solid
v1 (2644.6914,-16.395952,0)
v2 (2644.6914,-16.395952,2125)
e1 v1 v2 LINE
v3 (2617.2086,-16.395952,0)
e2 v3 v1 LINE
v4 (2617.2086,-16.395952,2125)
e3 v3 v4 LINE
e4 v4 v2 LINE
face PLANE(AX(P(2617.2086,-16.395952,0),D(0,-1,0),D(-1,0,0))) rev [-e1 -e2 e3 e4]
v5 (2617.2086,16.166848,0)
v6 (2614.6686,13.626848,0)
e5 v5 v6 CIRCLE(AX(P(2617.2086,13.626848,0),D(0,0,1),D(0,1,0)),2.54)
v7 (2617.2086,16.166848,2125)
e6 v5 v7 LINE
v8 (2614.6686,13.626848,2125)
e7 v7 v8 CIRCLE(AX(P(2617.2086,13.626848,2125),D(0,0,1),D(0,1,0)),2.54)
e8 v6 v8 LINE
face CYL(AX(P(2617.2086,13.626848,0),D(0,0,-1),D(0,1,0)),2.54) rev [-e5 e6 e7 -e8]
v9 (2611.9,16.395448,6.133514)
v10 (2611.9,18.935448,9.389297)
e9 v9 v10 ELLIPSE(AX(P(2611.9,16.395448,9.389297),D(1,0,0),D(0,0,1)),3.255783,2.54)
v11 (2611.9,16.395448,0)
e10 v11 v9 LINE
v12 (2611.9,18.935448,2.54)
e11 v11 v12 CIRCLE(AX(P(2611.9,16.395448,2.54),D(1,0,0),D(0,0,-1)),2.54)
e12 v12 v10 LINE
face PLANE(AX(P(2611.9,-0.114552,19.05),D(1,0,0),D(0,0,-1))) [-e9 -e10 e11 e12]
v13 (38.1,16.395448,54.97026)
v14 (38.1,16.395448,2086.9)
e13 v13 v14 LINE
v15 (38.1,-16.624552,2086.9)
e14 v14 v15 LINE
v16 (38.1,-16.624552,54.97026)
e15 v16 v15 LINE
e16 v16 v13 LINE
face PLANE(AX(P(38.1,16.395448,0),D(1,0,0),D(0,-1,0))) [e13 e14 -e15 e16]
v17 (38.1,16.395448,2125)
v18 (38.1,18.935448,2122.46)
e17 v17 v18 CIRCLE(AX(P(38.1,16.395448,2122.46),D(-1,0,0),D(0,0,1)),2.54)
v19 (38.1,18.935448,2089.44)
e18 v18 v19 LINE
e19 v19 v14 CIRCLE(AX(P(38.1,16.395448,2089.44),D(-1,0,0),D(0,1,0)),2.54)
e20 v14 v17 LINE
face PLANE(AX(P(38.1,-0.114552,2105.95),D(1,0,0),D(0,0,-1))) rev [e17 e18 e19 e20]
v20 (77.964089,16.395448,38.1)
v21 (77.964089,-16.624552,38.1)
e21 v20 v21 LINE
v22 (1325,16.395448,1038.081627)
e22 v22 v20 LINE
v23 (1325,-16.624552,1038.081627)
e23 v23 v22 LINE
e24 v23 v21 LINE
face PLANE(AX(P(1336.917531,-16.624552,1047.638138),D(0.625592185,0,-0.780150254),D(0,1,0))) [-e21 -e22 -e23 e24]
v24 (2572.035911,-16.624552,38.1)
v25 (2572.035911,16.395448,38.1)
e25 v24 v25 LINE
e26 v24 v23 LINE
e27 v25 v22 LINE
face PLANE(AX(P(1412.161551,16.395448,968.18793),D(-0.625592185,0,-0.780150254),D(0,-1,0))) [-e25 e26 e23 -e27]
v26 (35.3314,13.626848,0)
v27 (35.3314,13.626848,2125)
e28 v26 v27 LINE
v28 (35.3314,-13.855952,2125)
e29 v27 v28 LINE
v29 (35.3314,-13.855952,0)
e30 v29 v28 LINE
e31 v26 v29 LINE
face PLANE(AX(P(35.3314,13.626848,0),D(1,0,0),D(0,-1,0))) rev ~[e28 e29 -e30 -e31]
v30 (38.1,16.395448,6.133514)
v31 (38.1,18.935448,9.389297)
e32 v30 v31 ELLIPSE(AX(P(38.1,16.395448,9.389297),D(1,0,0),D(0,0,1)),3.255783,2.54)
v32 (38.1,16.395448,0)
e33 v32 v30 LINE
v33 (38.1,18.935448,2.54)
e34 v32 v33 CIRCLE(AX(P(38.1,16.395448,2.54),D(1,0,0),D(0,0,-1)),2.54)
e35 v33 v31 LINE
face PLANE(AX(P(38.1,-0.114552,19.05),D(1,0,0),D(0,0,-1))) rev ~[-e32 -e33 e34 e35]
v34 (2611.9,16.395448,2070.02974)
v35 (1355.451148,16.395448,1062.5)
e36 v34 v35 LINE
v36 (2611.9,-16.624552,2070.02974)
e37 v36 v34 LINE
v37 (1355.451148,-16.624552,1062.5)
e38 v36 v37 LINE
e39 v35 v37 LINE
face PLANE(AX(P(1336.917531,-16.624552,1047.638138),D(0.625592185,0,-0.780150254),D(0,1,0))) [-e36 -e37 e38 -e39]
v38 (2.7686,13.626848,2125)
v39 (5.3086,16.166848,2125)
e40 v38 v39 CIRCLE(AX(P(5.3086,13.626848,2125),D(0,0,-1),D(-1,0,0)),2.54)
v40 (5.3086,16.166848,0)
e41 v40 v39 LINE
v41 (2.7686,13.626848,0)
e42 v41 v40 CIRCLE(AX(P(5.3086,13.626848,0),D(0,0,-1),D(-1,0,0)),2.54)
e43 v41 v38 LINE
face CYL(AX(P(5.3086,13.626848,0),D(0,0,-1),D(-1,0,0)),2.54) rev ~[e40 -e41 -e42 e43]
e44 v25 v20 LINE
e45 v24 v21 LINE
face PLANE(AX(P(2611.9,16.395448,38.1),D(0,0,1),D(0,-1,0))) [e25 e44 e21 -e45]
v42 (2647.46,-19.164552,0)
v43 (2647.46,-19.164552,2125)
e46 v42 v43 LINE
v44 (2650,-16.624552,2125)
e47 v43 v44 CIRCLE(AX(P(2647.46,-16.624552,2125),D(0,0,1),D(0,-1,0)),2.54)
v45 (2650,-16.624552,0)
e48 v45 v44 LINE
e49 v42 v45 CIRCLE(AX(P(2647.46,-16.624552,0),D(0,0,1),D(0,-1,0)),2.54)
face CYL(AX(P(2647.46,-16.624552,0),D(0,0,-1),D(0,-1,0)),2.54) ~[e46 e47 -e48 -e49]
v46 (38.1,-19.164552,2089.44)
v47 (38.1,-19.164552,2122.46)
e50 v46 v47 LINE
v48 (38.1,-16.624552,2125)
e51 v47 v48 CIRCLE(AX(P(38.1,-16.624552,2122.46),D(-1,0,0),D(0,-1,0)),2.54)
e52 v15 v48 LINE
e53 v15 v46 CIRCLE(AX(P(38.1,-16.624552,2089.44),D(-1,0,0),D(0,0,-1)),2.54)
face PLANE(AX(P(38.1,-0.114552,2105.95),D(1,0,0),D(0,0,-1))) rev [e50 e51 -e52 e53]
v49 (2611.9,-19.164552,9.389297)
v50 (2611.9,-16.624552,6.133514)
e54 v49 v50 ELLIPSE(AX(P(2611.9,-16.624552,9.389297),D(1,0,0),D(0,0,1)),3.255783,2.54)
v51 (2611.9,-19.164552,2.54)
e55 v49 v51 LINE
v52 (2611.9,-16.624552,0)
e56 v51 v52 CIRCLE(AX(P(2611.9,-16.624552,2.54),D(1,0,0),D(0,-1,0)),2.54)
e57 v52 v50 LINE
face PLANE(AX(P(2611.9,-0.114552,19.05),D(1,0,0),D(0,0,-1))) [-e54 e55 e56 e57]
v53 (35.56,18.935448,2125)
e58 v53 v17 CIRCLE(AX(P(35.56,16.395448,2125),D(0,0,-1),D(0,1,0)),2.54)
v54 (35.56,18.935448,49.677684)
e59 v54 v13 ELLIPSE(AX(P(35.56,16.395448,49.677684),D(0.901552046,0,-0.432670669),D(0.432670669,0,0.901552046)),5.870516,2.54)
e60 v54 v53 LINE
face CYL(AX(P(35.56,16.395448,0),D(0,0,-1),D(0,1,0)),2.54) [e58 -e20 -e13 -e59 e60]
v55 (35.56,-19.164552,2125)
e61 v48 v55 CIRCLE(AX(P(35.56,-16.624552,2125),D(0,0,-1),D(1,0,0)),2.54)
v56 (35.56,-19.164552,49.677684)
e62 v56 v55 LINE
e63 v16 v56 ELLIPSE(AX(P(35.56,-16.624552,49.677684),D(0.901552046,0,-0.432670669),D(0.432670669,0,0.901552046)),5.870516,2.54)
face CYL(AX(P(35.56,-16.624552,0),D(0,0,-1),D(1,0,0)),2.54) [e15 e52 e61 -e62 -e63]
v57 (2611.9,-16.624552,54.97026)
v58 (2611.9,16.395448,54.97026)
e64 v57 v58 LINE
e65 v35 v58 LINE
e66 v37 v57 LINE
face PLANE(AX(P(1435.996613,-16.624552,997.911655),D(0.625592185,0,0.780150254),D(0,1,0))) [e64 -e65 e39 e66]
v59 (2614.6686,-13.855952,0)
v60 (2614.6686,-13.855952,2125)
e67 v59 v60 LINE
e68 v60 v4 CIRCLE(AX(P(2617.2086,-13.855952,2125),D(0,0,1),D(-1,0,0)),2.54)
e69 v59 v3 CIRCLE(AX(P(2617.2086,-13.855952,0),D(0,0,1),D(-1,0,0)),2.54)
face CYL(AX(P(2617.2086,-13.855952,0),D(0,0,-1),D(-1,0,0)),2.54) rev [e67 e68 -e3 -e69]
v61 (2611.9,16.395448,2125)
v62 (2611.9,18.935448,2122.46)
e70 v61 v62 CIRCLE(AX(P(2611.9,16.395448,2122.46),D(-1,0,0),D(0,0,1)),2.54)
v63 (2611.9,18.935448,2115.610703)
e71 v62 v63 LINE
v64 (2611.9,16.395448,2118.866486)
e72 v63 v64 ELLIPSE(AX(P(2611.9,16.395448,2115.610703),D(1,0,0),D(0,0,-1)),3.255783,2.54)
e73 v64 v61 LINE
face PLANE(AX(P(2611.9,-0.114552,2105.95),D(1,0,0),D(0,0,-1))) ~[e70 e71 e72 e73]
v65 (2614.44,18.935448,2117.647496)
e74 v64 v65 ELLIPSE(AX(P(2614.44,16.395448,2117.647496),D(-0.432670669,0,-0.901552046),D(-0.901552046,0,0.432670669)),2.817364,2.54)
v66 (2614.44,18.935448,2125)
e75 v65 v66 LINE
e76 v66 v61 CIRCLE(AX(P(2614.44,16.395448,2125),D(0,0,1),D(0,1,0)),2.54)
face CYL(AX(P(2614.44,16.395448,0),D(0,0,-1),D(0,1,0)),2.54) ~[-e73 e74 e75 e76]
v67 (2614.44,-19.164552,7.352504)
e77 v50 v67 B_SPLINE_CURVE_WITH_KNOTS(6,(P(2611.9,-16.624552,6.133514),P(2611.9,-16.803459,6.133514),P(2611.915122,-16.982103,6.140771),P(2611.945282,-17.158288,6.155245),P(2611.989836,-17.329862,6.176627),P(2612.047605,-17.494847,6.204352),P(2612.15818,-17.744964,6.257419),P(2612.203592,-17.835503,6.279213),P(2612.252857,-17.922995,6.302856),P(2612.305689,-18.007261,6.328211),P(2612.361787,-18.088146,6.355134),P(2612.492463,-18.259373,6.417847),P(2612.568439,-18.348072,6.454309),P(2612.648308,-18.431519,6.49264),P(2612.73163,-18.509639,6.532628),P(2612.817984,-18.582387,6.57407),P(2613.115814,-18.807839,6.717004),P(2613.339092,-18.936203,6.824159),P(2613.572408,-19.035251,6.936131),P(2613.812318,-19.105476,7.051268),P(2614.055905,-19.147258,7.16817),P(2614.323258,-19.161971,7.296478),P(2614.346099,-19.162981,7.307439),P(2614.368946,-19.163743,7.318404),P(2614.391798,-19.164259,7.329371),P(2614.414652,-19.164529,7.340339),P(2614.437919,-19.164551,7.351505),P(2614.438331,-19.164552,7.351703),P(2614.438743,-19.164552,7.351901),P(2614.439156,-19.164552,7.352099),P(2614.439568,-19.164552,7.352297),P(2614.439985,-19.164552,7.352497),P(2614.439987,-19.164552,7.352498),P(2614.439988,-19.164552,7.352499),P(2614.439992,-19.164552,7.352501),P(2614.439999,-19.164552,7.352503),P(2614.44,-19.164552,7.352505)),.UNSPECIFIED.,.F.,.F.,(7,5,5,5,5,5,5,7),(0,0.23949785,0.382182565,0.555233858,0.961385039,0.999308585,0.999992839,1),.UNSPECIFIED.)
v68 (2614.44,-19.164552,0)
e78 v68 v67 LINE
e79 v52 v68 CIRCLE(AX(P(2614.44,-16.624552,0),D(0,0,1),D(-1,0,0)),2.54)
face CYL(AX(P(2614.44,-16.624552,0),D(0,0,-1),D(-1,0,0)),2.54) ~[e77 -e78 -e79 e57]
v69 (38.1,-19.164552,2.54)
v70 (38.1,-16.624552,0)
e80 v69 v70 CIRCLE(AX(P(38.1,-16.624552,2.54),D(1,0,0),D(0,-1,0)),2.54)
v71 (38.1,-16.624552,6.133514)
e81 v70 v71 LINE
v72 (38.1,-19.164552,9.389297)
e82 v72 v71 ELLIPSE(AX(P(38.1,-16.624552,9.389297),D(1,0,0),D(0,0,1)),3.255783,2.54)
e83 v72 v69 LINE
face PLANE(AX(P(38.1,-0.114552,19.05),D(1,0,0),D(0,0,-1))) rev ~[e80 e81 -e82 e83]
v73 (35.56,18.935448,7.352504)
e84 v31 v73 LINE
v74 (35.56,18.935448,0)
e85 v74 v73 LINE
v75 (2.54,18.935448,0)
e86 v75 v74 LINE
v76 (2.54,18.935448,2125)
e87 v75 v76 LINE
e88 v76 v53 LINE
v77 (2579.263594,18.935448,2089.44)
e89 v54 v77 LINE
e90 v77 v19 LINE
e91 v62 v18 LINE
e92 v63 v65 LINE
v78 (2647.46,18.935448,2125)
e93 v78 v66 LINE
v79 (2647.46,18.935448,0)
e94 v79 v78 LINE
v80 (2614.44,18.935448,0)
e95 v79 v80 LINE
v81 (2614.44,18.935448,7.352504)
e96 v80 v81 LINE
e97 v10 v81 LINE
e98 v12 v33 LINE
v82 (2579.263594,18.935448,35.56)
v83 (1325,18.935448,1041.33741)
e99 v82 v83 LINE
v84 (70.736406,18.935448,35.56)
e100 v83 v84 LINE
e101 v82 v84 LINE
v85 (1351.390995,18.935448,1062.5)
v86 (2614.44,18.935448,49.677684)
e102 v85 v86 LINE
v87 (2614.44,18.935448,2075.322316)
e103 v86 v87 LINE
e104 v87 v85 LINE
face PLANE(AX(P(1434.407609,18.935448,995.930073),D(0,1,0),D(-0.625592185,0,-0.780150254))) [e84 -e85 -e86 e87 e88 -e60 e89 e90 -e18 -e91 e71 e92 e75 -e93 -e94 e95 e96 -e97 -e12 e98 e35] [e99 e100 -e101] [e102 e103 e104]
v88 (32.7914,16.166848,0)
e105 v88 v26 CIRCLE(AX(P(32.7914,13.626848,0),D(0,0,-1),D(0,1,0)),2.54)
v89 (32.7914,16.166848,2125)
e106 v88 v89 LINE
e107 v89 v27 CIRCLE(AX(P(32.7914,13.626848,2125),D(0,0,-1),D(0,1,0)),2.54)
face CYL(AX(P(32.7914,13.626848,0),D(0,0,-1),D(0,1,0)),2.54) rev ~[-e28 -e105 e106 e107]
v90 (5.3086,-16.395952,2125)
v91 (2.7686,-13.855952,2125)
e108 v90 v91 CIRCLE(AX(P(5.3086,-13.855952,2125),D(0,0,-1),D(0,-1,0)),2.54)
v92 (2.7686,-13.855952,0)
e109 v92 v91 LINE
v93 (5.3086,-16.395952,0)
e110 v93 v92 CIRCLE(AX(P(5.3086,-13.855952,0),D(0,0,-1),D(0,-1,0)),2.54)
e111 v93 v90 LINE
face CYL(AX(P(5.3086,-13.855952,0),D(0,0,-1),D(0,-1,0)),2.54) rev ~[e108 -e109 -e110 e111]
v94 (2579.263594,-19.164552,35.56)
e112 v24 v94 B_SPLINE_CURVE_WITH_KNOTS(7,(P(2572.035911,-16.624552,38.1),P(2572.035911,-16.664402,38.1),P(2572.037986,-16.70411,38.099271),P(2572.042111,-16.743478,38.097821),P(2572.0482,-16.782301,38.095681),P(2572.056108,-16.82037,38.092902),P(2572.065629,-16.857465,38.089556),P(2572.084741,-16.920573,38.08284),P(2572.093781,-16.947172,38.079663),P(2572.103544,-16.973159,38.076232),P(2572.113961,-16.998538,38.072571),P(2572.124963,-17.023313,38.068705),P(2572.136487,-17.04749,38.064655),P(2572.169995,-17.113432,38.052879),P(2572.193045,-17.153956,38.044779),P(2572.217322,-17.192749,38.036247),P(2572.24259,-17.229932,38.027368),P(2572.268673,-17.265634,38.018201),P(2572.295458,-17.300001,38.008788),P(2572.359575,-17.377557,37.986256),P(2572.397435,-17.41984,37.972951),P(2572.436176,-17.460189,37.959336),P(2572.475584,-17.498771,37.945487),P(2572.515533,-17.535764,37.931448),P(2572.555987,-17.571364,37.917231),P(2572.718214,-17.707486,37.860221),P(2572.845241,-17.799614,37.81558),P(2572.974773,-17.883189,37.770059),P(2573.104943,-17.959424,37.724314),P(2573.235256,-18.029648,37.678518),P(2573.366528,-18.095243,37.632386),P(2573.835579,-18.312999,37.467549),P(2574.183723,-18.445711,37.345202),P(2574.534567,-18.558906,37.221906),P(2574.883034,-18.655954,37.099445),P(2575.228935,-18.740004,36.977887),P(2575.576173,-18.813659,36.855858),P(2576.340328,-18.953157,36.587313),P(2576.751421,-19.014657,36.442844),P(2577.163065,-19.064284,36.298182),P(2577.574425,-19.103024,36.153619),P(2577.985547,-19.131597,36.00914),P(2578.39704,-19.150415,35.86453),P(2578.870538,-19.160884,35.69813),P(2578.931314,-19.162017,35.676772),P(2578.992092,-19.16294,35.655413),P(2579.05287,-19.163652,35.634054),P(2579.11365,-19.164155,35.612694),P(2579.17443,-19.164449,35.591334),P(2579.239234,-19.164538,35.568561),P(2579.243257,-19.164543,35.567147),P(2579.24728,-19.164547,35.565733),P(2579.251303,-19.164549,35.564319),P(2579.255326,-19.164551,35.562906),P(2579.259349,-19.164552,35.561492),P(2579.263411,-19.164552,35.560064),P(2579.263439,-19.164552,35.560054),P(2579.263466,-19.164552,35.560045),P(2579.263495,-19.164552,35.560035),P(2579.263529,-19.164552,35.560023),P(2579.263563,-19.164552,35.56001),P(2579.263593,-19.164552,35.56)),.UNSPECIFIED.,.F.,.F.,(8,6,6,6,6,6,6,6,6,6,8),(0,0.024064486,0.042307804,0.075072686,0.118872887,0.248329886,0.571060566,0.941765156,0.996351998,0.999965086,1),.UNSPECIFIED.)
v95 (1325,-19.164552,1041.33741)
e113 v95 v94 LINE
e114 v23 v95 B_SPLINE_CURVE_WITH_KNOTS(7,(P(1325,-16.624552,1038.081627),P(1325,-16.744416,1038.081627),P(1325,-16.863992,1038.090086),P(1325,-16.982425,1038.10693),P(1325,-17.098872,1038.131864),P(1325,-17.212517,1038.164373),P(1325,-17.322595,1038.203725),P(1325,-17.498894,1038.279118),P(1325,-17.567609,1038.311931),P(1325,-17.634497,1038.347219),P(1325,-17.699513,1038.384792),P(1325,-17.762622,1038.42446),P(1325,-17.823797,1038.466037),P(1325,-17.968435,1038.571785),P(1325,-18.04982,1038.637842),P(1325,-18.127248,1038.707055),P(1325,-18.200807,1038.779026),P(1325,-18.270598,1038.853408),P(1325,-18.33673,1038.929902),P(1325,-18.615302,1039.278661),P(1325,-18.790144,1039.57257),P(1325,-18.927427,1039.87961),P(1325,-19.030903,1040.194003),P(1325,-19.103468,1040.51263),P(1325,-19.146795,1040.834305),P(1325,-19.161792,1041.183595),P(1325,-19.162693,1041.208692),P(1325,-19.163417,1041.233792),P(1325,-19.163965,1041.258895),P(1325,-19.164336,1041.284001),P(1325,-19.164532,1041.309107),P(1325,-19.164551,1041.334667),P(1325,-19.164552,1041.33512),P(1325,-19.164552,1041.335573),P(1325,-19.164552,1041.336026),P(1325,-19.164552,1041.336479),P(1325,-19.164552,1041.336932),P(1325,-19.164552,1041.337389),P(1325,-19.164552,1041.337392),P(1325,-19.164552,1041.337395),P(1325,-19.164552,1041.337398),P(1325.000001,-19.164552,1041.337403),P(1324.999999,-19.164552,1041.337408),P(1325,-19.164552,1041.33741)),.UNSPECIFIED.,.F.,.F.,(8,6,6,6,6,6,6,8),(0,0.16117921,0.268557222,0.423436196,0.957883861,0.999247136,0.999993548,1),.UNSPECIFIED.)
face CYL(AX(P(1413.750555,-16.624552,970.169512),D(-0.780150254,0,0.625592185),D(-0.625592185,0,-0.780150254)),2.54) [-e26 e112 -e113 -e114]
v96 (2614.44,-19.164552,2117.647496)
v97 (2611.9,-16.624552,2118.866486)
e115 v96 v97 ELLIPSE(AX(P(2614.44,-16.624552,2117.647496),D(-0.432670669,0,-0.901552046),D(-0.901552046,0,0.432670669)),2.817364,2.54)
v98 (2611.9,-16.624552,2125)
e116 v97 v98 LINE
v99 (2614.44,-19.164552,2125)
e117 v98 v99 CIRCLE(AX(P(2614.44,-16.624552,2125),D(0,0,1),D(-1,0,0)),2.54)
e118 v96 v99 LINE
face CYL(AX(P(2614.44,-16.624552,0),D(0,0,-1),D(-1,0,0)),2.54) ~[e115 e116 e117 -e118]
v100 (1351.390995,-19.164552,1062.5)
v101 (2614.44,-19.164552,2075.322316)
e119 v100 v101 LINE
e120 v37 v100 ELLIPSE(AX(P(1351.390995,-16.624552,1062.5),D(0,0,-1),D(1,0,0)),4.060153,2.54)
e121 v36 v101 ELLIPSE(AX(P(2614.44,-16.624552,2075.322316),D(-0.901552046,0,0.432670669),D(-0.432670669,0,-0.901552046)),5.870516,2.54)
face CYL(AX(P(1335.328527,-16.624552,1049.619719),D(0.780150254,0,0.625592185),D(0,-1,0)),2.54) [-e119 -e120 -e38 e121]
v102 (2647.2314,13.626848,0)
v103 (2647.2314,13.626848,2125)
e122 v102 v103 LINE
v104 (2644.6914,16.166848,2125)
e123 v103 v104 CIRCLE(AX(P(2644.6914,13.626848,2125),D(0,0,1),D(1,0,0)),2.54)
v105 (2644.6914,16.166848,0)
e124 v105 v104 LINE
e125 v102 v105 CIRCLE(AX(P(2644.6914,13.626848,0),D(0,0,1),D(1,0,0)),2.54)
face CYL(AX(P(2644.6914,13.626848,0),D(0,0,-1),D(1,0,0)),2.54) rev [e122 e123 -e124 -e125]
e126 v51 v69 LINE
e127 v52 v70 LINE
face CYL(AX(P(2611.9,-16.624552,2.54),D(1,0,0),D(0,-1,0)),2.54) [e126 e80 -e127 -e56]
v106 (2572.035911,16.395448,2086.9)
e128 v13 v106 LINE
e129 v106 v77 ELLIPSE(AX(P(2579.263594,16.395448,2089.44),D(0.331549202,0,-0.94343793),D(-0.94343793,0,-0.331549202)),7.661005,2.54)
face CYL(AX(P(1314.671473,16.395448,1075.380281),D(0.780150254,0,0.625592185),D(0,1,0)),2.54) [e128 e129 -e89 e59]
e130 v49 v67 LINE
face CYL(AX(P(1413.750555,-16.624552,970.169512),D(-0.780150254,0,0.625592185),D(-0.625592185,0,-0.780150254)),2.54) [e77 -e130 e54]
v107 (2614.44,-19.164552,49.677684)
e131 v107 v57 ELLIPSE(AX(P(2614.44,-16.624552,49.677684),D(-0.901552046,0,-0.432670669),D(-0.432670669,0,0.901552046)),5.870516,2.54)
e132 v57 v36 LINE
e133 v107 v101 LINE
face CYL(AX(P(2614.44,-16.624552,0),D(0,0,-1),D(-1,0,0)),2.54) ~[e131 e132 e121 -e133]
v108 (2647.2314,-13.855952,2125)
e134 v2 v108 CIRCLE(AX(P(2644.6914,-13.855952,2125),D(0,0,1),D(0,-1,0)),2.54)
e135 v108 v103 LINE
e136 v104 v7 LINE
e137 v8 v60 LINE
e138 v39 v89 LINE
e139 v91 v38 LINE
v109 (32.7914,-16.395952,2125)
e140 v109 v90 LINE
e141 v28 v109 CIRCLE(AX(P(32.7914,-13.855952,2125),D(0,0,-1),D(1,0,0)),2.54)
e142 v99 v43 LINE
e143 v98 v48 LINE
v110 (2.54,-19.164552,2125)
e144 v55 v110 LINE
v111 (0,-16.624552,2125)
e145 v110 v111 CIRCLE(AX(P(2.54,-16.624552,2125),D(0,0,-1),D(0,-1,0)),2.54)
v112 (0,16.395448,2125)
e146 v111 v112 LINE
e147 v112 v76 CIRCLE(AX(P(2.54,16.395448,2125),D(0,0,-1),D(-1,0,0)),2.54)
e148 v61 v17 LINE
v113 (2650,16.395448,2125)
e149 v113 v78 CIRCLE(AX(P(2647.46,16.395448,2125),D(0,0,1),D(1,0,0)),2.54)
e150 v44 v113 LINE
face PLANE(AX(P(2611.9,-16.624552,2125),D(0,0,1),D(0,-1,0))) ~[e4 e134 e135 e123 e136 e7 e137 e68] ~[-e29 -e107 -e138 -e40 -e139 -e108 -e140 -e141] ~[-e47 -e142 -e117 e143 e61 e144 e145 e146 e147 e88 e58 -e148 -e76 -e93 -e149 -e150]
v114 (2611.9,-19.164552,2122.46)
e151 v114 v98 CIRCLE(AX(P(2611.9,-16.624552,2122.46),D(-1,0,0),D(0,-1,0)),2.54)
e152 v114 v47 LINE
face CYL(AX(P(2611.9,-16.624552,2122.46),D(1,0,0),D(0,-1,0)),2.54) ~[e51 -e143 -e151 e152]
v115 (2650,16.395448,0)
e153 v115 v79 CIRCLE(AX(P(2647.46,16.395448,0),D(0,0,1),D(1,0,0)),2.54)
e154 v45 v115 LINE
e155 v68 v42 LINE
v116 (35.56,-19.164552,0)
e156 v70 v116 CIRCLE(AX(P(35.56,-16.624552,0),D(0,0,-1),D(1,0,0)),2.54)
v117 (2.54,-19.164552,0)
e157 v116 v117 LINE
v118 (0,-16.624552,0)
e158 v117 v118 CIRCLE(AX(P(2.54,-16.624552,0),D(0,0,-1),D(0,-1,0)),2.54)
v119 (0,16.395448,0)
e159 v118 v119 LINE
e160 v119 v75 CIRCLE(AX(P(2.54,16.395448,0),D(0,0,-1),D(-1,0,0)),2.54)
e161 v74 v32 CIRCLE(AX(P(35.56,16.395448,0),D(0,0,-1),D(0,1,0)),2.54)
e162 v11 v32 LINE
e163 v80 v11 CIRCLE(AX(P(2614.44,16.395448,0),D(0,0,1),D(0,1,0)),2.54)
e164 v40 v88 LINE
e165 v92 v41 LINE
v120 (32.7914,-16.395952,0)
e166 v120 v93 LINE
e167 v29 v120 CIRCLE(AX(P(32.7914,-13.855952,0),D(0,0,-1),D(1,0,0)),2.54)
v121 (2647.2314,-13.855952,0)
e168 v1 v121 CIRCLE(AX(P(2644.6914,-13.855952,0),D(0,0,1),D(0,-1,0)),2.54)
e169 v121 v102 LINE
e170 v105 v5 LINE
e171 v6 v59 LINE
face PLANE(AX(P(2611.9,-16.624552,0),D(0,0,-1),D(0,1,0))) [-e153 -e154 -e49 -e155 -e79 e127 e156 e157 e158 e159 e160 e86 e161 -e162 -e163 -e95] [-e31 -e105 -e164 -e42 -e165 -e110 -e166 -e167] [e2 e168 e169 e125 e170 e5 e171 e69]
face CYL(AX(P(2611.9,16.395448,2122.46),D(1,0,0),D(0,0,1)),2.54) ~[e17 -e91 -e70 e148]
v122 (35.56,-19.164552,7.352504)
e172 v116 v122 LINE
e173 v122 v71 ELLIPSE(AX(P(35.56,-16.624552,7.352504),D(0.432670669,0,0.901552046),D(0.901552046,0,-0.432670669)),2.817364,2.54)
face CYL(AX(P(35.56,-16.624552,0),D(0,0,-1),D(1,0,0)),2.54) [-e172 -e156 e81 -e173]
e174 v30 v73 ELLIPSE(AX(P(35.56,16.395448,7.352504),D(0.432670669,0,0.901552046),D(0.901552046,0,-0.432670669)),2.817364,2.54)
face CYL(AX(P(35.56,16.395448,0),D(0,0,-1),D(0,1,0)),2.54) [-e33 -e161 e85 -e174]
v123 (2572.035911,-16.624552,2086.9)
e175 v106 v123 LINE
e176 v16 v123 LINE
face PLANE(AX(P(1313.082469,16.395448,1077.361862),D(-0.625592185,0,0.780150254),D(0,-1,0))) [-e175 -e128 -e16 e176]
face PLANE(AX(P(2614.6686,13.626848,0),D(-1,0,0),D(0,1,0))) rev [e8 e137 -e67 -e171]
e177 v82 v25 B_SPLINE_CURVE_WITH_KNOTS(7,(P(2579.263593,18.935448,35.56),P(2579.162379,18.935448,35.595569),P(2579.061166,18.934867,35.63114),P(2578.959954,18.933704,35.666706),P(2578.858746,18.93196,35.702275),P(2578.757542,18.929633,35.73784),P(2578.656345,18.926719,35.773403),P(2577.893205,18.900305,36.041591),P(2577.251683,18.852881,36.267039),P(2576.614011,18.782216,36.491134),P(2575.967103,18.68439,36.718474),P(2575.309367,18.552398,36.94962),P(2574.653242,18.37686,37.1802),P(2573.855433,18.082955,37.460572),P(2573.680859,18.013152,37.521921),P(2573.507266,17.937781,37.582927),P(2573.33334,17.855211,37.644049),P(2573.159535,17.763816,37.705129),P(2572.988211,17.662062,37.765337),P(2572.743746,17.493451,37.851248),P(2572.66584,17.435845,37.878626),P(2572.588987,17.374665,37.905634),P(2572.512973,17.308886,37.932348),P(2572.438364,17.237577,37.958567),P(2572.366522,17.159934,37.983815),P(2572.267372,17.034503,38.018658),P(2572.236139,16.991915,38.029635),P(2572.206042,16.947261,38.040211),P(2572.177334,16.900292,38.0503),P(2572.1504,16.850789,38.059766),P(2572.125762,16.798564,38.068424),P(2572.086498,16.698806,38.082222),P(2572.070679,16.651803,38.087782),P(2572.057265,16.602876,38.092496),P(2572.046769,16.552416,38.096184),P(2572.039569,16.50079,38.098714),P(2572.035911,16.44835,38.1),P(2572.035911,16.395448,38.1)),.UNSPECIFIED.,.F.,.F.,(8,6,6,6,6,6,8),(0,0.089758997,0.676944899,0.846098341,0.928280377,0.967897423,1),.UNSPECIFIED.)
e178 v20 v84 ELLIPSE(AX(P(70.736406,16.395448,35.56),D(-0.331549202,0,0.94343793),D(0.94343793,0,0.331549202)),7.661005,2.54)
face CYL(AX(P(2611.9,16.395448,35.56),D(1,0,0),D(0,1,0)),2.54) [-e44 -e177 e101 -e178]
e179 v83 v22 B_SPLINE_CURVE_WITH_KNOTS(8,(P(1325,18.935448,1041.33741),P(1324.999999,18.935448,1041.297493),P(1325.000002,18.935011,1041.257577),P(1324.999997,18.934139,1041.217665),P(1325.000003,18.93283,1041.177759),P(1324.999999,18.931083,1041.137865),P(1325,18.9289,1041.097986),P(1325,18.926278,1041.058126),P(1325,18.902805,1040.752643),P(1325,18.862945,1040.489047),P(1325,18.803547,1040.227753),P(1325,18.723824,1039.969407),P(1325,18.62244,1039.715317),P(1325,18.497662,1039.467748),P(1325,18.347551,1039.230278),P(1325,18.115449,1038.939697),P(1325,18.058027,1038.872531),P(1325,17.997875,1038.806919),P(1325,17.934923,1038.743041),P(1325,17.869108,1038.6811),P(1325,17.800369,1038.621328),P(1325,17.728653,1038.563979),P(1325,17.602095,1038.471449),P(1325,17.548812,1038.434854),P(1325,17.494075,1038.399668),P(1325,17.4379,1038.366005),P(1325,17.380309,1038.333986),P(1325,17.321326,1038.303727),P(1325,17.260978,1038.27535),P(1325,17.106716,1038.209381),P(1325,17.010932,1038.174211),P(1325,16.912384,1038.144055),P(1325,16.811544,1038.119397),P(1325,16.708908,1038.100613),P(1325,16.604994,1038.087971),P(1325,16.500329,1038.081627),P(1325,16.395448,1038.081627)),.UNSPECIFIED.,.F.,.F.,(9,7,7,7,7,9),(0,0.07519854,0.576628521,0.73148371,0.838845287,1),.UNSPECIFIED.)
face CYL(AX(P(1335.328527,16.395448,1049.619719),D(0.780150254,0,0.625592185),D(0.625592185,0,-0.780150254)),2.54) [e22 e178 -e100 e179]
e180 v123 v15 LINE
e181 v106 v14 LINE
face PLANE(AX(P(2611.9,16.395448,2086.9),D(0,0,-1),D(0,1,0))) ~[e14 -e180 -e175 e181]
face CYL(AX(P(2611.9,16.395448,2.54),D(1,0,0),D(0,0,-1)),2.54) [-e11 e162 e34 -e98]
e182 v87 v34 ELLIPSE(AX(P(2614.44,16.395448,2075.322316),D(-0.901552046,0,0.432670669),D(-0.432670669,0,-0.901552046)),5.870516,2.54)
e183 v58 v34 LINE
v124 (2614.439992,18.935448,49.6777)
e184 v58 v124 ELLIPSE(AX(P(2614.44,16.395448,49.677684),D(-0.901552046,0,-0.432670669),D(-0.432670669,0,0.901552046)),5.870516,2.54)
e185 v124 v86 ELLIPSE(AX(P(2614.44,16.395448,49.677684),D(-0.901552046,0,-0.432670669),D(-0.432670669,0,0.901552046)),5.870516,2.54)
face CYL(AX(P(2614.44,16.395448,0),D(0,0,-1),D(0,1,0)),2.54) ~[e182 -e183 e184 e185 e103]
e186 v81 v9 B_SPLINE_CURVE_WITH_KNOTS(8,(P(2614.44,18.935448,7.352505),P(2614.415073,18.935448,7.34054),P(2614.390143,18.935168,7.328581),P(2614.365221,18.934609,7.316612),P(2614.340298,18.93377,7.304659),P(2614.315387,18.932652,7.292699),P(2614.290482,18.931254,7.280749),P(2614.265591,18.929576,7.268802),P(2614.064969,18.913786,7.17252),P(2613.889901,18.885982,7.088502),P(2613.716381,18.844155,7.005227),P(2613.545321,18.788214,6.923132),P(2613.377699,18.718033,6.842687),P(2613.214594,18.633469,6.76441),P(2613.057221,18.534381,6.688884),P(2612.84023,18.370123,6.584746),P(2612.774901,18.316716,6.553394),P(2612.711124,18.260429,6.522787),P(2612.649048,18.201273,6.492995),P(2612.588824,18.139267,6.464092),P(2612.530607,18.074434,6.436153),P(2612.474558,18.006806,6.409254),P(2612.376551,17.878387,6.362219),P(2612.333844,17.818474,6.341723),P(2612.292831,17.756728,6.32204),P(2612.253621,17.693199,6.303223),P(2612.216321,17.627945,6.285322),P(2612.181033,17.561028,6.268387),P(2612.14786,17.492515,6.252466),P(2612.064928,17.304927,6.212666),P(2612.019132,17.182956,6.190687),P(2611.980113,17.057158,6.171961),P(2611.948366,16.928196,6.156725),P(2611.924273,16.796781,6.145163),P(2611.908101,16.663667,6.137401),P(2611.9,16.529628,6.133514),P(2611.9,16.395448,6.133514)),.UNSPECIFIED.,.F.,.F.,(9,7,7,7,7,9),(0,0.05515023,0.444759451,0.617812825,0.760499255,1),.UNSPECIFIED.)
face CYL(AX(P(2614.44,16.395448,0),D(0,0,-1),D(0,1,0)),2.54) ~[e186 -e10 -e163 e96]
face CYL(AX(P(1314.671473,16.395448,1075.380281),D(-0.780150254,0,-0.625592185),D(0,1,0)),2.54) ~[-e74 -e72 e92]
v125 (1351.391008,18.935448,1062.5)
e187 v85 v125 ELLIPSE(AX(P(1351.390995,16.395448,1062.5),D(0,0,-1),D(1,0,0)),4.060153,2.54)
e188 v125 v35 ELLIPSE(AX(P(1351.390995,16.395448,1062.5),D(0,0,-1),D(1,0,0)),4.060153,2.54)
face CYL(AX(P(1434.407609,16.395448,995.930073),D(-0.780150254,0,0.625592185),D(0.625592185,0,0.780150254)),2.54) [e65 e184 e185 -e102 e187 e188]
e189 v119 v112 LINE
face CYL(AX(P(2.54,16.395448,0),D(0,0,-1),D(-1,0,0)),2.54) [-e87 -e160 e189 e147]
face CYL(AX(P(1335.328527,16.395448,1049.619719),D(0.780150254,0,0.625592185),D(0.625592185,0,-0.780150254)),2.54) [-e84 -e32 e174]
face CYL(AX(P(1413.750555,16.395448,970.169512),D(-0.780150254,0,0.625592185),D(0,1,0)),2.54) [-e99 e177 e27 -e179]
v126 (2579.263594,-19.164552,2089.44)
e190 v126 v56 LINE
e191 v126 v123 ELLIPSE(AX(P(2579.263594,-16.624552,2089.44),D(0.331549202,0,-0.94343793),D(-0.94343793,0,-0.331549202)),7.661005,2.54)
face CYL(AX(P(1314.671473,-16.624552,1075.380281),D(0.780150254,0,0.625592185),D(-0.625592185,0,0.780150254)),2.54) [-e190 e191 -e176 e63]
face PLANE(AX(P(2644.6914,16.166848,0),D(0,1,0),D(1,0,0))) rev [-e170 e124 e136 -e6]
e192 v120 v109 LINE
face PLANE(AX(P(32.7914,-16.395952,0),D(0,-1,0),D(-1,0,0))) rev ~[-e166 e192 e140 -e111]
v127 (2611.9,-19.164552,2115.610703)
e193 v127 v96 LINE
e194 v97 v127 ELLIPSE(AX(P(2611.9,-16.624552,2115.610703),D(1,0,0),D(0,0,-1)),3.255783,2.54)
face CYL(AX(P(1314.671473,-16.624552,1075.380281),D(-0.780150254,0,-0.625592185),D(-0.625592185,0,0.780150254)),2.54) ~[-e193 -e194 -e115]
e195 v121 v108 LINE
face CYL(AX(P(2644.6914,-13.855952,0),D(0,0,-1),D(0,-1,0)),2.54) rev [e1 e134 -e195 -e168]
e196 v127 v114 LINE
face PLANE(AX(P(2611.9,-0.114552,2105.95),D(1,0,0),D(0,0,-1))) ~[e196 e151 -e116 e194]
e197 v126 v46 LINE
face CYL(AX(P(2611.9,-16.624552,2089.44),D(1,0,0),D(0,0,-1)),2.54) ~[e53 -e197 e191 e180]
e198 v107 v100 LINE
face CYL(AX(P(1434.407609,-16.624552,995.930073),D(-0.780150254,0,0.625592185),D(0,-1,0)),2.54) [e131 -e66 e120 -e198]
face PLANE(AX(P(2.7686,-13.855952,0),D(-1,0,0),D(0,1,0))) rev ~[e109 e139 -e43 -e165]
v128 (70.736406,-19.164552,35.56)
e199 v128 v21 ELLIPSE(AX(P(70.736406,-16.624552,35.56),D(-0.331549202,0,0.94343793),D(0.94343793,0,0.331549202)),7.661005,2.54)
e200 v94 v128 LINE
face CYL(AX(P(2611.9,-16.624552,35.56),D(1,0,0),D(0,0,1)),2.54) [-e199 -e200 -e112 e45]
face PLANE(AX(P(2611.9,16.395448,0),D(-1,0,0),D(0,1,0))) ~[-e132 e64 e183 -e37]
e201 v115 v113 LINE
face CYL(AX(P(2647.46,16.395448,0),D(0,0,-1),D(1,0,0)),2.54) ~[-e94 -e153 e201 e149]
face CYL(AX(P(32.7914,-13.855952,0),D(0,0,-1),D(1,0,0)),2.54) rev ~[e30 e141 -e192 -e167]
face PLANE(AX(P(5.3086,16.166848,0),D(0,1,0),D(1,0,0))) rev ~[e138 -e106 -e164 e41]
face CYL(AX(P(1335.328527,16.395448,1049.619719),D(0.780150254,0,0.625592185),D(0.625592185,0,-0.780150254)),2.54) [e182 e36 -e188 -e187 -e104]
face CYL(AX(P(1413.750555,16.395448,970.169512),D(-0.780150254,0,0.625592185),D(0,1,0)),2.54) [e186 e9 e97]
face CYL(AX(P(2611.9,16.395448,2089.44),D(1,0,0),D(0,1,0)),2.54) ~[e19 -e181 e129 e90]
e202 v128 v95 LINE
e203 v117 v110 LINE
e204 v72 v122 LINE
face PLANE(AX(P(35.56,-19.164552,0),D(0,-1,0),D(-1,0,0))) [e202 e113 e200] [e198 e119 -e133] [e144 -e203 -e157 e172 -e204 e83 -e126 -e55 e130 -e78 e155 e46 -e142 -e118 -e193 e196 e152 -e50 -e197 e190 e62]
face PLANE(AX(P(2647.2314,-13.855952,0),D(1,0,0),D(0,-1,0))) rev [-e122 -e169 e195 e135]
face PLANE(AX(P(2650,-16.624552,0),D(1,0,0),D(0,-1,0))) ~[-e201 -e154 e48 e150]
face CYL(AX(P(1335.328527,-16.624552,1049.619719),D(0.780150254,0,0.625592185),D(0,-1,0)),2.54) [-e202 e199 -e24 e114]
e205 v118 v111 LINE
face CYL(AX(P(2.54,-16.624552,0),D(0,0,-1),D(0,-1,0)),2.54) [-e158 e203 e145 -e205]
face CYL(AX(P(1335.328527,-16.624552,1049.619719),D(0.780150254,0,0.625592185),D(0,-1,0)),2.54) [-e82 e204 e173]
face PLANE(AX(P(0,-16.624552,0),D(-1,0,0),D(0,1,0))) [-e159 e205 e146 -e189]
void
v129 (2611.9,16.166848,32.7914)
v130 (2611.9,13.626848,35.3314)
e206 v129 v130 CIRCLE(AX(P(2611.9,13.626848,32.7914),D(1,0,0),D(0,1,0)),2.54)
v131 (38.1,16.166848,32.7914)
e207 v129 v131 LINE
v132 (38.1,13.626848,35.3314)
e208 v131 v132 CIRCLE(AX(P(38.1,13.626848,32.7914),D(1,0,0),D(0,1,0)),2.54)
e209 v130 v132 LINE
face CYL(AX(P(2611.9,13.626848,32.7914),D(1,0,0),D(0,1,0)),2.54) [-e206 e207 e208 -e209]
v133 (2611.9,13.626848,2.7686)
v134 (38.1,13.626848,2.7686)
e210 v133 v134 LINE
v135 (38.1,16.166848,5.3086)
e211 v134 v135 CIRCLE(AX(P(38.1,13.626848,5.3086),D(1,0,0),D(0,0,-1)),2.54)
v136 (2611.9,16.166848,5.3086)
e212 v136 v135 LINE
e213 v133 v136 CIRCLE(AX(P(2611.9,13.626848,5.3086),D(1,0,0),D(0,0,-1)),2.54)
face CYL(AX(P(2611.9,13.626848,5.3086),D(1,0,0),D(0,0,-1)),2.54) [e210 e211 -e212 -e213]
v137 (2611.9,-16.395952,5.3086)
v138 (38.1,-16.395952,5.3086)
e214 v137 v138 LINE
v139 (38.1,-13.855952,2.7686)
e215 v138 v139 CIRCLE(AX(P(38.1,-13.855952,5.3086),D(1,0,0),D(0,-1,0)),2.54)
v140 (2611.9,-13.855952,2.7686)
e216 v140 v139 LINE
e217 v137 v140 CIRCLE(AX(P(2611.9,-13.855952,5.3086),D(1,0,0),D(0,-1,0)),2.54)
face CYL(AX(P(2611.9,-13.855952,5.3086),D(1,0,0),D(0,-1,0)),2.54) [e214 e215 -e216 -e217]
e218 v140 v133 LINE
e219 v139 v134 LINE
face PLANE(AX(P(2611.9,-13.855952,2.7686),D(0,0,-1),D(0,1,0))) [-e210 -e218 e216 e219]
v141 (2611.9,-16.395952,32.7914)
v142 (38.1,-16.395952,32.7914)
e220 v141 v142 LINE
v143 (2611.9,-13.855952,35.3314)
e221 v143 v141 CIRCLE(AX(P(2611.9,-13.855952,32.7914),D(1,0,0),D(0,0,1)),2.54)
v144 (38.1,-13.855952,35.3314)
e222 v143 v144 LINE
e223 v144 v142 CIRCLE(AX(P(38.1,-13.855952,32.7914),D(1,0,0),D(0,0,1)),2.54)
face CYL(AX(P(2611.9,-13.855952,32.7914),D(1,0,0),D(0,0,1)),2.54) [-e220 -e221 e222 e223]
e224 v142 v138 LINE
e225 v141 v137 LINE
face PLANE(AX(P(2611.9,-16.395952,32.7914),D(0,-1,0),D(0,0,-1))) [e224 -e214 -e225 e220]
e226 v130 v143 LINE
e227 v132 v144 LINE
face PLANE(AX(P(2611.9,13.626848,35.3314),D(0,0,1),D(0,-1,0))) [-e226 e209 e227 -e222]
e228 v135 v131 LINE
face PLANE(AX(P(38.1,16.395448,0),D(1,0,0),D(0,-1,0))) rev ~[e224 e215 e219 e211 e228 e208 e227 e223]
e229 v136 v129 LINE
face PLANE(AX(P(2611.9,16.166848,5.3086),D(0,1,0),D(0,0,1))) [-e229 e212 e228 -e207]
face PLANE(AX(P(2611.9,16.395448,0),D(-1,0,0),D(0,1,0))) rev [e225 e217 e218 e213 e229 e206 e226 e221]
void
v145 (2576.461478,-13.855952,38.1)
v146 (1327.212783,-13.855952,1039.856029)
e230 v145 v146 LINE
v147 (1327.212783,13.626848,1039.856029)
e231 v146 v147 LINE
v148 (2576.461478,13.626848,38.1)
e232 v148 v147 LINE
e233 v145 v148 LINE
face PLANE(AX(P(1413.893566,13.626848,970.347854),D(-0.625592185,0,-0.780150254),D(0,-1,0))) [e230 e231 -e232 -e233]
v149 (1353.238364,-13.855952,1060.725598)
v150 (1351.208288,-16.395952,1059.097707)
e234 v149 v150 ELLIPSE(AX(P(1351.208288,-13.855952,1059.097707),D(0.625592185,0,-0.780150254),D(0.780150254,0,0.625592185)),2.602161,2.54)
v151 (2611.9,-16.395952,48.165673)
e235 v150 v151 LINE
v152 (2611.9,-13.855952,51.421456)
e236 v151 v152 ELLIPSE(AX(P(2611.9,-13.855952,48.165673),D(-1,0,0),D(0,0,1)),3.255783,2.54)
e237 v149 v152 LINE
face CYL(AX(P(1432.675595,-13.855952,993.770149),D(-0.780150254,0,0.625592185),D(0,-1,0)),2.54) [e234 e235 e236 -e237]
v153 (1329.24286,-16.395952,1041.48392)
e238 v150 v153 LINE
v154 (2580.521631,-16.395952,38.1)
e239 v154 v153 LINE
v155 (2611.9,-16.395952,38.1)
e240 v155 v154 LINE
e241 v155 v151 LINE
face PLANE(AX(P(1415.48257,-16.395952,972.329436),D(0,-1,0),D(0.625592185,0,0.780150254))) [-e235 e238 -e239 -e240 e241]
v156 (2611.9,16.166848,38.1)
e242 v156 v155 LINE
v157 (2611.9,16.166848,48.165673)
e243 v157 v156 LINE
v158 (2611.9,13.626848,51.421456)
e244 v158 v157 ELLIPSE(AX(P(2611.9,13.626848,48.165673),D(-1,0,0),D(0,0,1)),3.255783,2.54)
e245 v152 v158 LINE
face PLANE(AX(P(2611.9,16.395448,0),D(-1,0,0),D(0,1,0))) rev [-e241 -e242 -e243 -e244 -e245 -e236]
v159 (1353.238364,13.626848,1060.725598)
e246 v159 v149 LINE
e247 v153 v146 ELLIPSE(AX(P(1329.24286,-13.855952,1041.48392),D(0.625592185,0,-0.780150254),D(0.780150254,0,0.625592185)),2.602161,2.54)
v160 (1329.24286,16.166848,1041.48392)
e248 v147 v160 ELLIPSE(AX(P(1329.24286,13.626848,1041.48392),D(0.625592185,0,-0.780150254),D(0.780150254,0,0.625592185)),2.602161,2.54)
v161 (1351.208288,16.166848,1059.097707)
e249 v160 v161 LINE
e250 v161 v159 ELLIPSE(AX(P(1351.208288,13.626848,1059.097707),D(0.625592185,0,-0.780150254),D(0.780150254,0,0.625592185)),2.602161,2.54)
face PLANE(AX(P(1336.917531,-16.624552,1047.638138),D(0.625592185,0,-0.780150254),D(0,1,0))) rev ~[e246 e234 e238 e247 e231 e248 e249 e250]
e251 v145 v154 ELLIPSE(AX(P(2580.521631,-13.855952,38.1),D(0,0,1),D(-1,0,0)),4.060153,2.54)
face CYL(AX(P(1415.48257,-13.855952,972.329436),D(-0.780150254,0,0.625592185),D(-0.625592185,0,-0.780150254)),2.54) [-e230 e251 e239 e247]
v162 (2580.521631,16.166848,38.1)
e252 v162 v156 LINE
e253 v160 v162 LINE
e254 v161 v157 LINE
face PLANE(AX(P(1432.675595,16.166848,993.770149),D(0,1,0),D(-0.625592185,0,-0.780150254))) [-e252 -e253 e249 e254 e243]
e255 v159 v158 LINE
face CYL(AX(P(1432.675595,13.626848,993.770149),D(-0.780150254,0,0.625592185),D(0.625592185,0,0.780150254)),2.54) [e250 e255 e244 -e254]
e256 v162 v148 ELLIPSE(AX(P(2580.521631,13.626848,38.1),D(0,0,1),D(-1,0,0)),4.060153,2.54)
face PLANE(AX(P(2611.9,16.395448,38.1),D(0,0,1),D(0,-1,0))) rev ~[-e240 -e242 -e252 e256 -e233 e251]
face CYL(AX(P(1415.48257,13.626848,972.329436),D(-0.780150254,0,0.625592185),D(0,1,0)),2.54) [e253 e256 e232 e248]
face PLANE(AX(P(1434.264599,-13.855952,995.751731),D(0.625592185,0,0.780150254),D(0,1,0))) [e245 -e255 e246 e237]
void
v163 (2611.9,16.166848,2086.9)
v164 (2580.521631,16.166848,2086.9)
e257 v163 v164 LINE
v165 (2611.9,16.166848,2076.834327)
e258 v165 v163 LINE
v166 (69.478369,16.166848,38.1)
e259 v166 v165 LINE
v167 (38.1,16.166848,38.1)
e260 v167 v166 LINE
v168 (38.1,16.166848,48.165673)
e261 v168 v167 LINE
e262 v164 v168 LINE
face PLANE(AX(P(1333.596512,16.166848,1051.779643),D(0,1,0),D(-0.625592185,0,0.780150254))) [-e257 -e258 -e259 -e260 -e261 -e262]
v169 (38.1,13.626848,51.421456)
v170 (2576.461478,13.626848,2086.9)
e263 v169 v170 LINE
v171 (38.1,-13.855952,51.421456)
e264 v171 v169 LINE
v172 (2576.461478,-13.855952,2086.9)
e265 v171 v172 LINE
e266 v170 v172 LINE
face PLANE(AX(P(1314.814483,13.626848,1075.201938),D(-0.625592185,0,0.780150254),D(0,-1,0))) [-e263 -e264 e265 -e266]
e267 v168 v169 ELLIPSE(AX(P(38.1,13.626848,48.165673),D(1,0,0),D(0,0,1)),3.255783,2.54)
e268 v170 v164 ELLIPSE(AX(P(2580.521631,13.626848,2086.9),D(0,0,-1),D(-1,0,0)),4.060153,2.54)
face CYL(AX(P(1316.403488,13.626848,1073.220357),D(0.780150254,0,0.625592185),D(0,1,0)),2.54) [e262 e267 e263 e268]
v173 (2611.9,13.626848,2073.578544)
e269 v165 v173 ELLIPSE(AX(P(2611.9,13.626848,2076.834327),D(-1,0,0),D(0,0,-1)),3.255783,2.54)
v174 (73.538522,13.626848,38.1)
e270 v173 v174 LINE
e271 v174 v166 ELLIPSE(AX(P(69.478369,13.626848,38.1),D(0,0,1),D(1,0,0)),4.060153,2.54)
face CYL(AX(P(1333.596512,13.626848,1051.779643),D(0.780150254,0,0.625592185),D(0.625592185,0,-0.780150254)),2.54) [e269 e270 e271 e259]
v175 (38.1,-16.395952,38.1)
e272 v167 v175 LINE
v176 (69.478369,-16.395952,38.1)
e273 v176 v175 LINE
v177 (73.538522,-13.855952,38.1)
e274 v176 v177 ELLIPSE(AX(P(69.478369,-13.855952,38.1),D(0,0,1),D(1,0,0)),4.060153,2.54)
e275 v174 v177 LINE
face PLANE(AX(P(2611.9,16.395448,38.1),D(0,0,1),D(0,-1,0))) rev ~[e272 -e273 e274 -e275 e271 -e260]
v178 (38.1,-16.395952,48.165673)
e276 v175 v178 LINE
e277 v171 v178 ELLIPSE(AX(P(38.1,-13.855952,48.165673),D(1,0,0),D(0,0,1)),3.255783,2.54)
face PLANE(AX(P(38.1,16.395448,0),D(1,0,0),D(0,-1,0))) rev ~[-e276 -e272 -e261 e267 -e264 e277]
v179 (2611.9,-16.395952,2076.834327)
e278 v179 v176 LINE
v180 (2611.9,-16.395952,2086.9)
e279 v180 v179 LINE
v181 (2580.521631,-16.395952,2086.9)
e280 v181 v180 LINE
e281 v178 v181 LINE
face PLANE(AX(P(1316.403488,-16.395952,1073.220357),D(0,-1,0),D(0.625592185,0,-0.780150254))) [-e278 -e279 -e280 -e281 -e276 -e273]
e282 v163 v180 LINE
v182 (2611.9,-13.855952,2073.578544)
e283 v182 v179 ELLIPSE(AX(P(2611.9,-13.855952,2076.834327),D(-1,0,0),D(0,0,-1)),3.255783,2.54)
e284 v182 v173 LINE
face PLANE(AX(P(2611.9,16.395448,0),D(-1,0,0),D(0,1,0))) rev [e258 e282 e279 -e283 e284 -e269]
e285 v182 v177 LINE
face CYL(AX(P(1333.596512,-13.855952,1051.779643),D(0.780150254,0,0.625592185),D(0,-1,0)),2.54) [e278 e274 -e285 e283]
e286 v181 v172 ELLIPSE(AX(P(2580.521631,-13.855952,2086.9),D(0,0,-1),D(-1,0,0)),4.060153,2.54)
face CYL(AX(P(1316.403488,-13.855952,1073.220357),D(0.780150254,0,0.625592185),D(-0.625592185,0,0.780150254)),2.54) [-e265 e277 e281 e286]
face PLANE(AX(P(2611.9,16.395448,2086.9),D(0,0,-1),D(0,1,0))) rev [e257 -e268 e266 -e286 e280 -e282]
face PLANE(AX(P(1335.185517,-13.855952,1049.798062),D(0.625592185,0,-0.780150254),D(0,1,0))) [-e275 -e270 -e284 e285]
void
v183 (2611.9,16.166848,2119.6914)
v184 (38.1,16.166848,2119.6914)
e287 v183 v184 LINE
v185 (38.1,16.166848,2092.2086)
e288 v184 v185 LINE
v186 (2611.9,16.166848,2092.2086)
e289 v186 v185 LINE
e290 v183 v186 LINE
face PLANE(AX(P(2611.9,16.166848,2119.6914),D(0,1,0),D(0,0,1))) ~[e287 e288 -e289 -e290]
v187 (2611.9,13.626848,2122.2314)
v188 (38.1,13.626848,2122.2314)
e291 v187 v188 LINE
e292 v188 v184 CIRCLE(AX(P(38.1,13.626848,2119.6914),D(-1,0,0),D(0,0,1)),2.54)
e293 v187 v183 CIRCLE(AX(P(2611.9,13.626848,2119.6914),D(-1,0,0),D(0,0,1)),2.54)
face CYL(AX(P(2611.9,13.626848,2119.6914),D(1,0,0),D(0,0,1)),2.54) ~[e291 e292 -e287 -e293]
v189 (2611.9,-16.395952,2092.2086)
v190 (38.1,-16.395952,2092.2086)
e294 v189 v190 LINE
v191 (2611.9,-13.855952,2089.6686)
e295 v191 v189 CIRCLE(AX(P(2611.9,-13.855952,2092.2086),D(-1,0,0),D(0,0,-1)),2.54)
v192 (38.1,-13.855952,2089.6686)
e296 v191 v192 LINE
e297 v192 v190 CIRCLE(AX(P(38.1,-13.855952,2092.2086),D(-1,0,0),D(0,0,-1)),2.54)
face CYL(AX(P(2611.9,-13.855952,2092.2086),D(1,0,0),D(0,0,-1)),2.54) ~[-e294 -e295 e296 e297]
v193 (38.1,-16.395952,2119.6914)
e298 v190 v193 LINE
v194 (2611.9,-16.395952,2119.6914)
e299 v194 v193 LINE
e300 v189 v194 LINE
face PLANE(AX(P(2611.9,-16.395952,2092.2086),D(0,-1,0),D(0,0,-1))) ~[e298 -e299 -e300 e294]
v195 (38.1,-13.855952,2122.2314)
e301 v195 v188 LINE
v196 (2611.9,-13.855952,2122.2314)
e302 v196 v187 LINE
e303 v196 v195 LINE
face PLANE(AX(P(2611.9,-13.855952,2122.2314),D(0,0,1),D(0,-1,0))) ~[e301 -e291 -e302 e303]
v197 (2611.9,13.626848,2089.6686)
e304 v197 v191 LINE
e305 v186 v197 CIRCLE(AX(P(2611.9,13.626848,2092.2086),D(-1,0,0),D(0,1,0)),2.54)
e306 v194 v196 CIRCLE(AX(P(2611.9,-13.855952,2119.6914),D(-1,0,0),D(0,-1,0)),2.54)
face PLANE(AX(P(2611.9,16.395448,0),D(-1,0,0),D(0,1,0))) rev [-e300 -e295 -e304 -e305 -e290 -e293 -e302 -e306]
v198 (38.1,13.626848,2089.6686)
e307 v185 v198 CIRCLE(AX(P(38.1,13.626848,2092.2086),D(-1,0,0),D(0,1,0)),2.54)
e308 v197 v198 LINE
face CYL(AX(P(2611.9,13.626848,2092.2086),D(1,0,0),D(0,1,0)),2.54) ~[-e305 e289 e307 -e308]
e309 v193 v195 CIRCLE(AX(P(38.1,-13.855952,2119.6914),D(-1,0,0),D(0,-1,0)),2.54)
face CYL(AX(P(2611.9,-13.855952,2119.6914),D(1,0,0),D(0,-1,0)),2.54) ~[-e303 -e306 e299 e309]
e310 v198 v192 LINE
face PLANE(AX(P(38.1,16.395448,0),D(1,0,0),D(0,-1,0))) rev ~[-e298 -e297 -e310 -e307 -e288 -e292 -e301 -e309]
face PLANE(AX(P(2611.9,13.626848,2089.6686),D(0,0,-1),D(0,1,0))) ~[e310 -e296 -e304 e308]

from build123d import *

# Parameters (mm, degrees)
BOSS_EXTRUDE1_DEPTH             = 2125
BOSS_EXTRUDE2_DEPTH             = 2573.8
BOSS_EXTRUDE5_REACH             = 1700.499
BOSS_EXTRUDE5_DIRECTION_2_REACH = 1700.499
BOSS_EXTRUDE7_REACH             = 3326.514
BOSS_EXTRUDE7_DIRECTION_2_REACH = 3326.514


with BuildPart() as part:
    # Sketch2 → Boss-Extrude1 (new body)
    with BuildSketch(Plane.XY):
        with BuildLine():
            Line((2.54, 18.93544774), (35.56, 18.93544774))
            ThreePointArc((35.56, 18.93544774), (37.356051224, 18.191498964), (38.1, 16.39544774))
            Line((38.1, 16.39544774), (38.1, -16.62455226))
            ThreePointArc((38.1, -16.62455226), (37.356051224, -18.420603484), (35.56, -19.16455226))
            Line((35.56, -19.16455226), (2.54, -19.16455226))
            ThreePointArc((2.54, -19.16455226), (0.743948776, -18.420603484), (0, -16.62455226))
            Line((0, -16.62455226), (0, 16.39544774))
            ThreePointArc((0, 16.39544774), (0.743948776, 18.191498964), (2.54, 18.93544774))
        make_face()
        with BuildLine():
            Line((5.3086, 16.16684774), (32.7914, 16.16684774))
            ThreePointArc((32.7914, 16.16684774), (34.587451224, 15.422898964), (35.3314, 13.62684774))
            Line((35.3314, 13.62684774), (35.3314, -13.85595226))
            ThreePointArc((35.3314, -13.85595226), (34.587451224, -15.652003484), (32.7914, -16.39595226))
            Line((32.7914, -16.39595226), (5.3086, -16.39595226))
            ThreePointArc((5.3086, -16.39595226), (3.512548776, -15.652003484), (2.7686, -13.85595226))
            Line((2.7686, -13.85595226), (2.7686, 13.62684774))
            ThreePointArc((2.7686, 13.62684774), (3.512548776, 15.422898964), (5.3086, 16.16684774))
        make_face(mode=Mode.SUBTRACT)
    extrude(amount=BOSS_EXTRUDE1_DEPTH)


with BuildPart() as body_2:
    # Mirror2: mirrored copy
    add(part.part.mirror(Plane.ZY.offset(-1325)))


with BuildPart() as part_1:
    add(part.part)

    add(body_2.part)  # Boss-Extrude2 merges body 2
    # Sketch3 → Boss-Extrude2 (add)
    with BuildSketch(Plane.ZY.offset(-2611.9)):
        with BuildLine():
            Line((2.54, 18.93544774), (35.56, 18.93544774))
            ThreePointArc((35.56, 18.93544774), (37.356051224, 18.191498964), (38.1, 16.39544774))
            Line((38.1, 16.39544774), (38.1, -16.62455226))
            ThreePointArc((38.1, -16.62455226), (37.356051224, -18.420603484), (35.56, -19.16455226))
            Line((35.56, -19.16455226), (2.54, -19.16455226))
            ThreePointArc((2.54, -19.16455226), (0.743948776, -18.420603484), (0, -16.62455226))
            Line((0, -16.62455226), (0, 16.39544774))
            ThreePointArc((0, 16.39544774), (0.743948776, 18.191498964), (2.54, 18.93544774))
        make_face()
        with BuildLine():
            Line((5.3086, 16.16684774), (32.7914, 16.16684774))
            ThreePointArc((32.7914, 16.16684774), (34.587451224, 15.422898964), (35.3314, 13.62684774))
            Line((35.3314, 13.62684774), (35.3314, -13.85595226))
            ThreePointArc((35.3314, -13.85595226), (34.587451224, -15.652003484), (32.7914, -16.39595226))
            Line((32.7914, -16.39595226), (5.3086, -16.39595226))
            ThreePointArc((5.3086, -16.39595226), (3.512548776, -15.652003484), (2.7686, -13.85595226))
            Line((2.7686, -13.85595226), (2.7686, 13.62684774))
            ThreePointArc((2.7686, 13.62684774), (3.512548776, 15.422898964), (5.3086, 16.16684774))
        make_face(mode=Mode.SUBTRACT)
    boss_extrude2 = extrude(amount=BOSS_EXTRUDE2_DEPTH)

    # Mirror3: Boss-Extrude2 across plane
    add(boss_extrude2.mirror(Plane.XY.offset(1062.5)))

    # Sketch8 → Boss-Extrude5 (add, up to next)
    with BuildSketch(Plane(origin=(1325, 0, 1062.5), x_dir=(-0.6255921846507733, 0, 0.7801502537997875), z_dir=(-0.7801502537997875, 0, -0.6255921846507733)), mode=Mode.PRIVATE) as boss_extrude5_sk1:
        with BuildLine():
            Line((-16.51, 18.93544774), (16.51, 18.93544774))
            ThreePointArc((16.51, 18.93544774), (18.306051224, 18.191498964), (19.05, 16.39544774))
            Line((19.05, 16.39544774), (19.05, -16.62455226))
            ThreePointArc((19.05, -16.62455226), (18.306051224, -18.420603484), (16.51, -19.16455226))
            Line((16.51, -19.16455226), (-16.51, -19.16455226))
            ThreePointArc((-16.51, -19.16455226), (-18.306051224, -18.420603484), (-19.05, -16.62455226))
            Line((-19.05, -16.62455226), (-19.05, 16.39544774))
            ThreePointArc((-19.05, 16.39544774), (-18.306051224, 18.191498964), (-16.51, 18.93544774))
        make_face()
        with BuildLine():
            Line((16.2814, 13.62684774), (16.2814, -13.85595226))
            ThreePointArc((16.2814, -13.85595226), (15.537451224, -15.652003484), (13.7414, -16.39595226))
            Line((13.7414, -16.39595226), (-13.7414, -16.39595226))
            ThreePointArc((-13.7414, -16.39595226), (-15.537451224, -15.652003484), (-16.2814, -13.85595226))
            Line((-16.2814, -13.85595226), (-16.2814, 13.62684774))
            ThreePointArc((-16.2814, 13.62684774), (-15.537451224, 15.422898964), (-13.7414, 16.16684774))
            Line((-13.7414, 16.16684774), (13.7414, 16.16684774))
            ThreePointArc((13.7414, 16.16684774), (15.537451224, 15.422898964), (16.2814, 13.62684774))
        make_face(mode=Mode.SUBTRACT)
    boss_extrude5_tool1 = extrude(boss_extrude5_sk1.sketch, amount=-BOSS_EXTRUDE5_REACH, mode=Mode.PRIVATE) - part_1.part
    add(boss_extrude5_tool1.solids().sort_by_distance((1336.213772, 17.810499, 1048.515767))[0])

    # Sketch8 → Boss-Extrude5 direction 2 (add, up to next)
    with BuildSketch(Plane(origin=(1325, 0, 1062.5), x_dir=(-0.6255921846507733, 0, 0.7801502537997875), z_dir=(-0.7801502537997875, 0, -0.6255921846507733)), mode=Mode.PRIVATE) as boss_extrude5_direction_2_sk1:
        with BuildLine():
            Line((-16.51, 18.93544774), (16.51, 18.93544774))
            ThreePointArc((16.51, 18.93544774), (18.306051224, 18.191498964), (19.05, 16.39544774))
            Line((19.05, 16.39544774), (19.05, -16.62455226))
            ThreePointArc((19.05, -16.62455226), (18.306051224, -18.420603484), (16.51, -19.16455226))
            Line((16.51, -19.16455226), (-16.51, -19.16455226))
            ThreePointArc((-16.51, -19.16455226), (-18.306051224, -18.420603484), (-19.05, -16.62455226))
            Line((-19.05, -16.62455226), (-19.05, 16.39544774))
            ThreePointArc((-19.05, 16.39544774), (-18.306051224, 18.191498964), (-16.51, 18.93544774))
        make_face()
        with BuildLine():
            Line((16.2814, 13.62684774), (16.2814, -13.85595226))
            ThreePointArc((16.2814, -13.85595226), (15.537451224, -15.652003484), (13.7414, -16.39595226))
            Line((13.7414, -16.39595226), (-13.7414, -16.39595226))
            ThreePointArc((-13.7414, -16.39595226), (-15.537451224, -15.652003484), (-16.2814, -13.85595226))
            Line((-16.2814, -13.85595226), (-16.2814, 13.62684774))
            ThreePointArc((-16.2814, 13.62684774), (-15.537451224, 15.422898964), (-13.7414, 16.16684774))
            Line((-13.7414, 16.16684774), (13.7414, 16.16684774))
            ThreePointArc((13.7414, 16.16684774), (15.537451224, 15.422898964), (16.2814, 13.62684774))
        make_face(mode=Mode.SUBTRACT)
    boss_extrude5_direction_2_tool1 = extrude(boss_extrude5_direction_2_sk1.sketch, amount=BOSS_EXTRUDE5_DIRECTION_2_REACH, mode=Mode.PRIVATE) - part_1.part
    add(boss_extrude5_direction_2_tool1.solids().sort_by_distance((1336.213772, 17.810499, 1048.515767))[0])

    # Sketch11 → Boss-Extrude7 (add, up to next)
    with BuildSketch(Plane(origin=(386.960291268, 0, -310.298346771), x_dir=(-0.6255921846507708, 0, -0.7801502537997894), z_dir=(0.7801502537997894, 0, -0.6255921846507708)), mode=Mode.PRIVATE) as boss_extrude7_sk1:
        with BuildLine():
            Line((-1674.329289325, 18.93544774), (-1641.309289325, 18.93544774))
            ThreePointArc((-1641.309289325, 18.93544774), (-1639.5132381, 18.191498964), (-1638.769289325, 16.39544774))
            Line((-1638.769289325, 16.39544774), (-1638.769289325, -16.62455226))
            ThreePointArc((-1638.769289325, -16.62455226), (-1639.5132381, -18.420603484), (-1641.309289325, -19.16455226))
            Line((-1641.309289325, -19.16455226), (-1674.329289325, -19.16455226))
            ThreePointArc((-1674.329289325, -19.16455226), (-1676.125340549, -18.420603484), (-1676.869289325, -16.62455226))
            Line((-1676.869289325, -16.62455226), (-1676.869289325, 16.39544774))
            ThreePointArc((-1676.869289325, 16.39544774), (-1676.125340549, 18.191498964), (-1674.329289325, 18.93544774))
        make_face()
        with BuildLine():
            Line((-1671.560689325, 16.16684774), (-1644.077889325, 16.16684774))
            ThreePointArc((-1644.077889325, 16.16684774), (-1642.2818381, 15.422898964), (-1641.537889325, 13.62684774))
            Line((-1641.537889325, 13.62684774), (-1641.537889325, -13.85595226))
            ThreePointArc((-1641.537889325, -13.85595226), (-1642.2818381, -15.652003484), (-1644.077889325, -16.39595226))
            Line((-1644.077889325, -16.39595226), (-1671.560689325, -16.39595226))
            ThreePointArc((-1671.560689325, -16.39595226), (-1673.356740549, -15.652003484), (-1674.100689325, -13.85595226))
            Line((-1674.100689325, -13.85595226), (-1674.100689325, 13.62684774))
            ThreePointArc((-1674.100689325, 13.62684774), (-1673.356740549, 15.422898964), (-1671.560689325, 16.16684774))
        make_face(mode=Mode.SUBTRACT)
    boss_extrude7_tool1 = extrude(boss_extrude7_sk1.sketch, amount=-BOSS_EXTRUDE7_REACH, mode=Mode.PRIVATE) - part_1.part
    add(boss_extrude7_tool1.solids().sort_by_distance((1424.079082, 18.396632, 983.049793))[0])

    # Sketch11 → Boss-Extrude7 direction 2 (add, up to next)
    with BuildSketch(Plane(origin=(386.960291268, 0, -310.298346771), x_dir=(-0.6255921846507708, 0, -0.7801502537997894), z_dir=(0.7801502537997894, 0, -0.6255921846507708)), mode=Mode.PRIVATE) as boss_extrude7_direction_2_sk1:
        with BuildLine():
            Line((-1674.329289325, 18.93544774), (-1641.309289325, 18.93544774))
            ThreePointArc((-1641.309289325, 18.93544774), (-1639.5132381, 18.191498964), (-1638.769289325, 16.39544774))
            Line((-1638.769289325, 16.39544774), (-1638.769289325, -16.62455226))
            ThreePointArc((-1638.769289325, -16.62455226), (-1639.5132381, -18.420603484), (-1641.309289325, -19.16455226))
            Line((-1641.309289325, -19.16455226), (-1674.329289325, -19.16455226))
            ThreePointArc((-1674.329289325, -19.16455226), (-1676.125340549, -18.420603484), (-1676.869289325, -16.62455226))
            Line((-1676.869289325, -16.62455226), (-1676.869289325, 16.39544774))
            ThreePointArc((-1676.869289325, 16.39544774), (-1676.125340549, 18.191498964), (-1674.329289325, 18.93544774))
        make_face()
        with BuildLine():
            Line((-1671.560689325, 16.16684774), (-1644.077889325, 16.16684774))
            ThreePointArc((-1644.077889325, 16.16684774), (-1642.2818381, 15.422898964), (-1641.537889325, 13.62684774))
            Line((-1641.537889325, 13.62684774), (-1641.537889325, -13.85595226))
            ThreePointArc((-1641.537889325, -13.85595226), (-1642.2818381, -15.652003484), (-1644.077889325, -16.39595226))
            Line((-1644.077889325, -16.39595226), (-1671.560689325, -16.39595226))
            ThreePointArc((-1671.560689325, -16.39595226), (-1673.356740549, -15.652003484), (-1674.100689325, -13.85595226))
            Line((-1674.100689325, -13.85595226), (-1674.100689325, 13.62684774))
            ThreePointArc((-1674.100689325, 13.62684774), (-1673.356740549, 15.422898964), (-1671.560689325, 16.16684774))
        make_face(mode=Mode.SUBTRACT)
    boss_extrude7_direction_2_tool1 = extrude(boss_extrude7_direction_2_sk1.sketch, amount=BOSS_EXTRUDE7_DIRECTION_2_REACH, mode=Mode.PRIVATE) - part_1.part
    add(boss_extrude7_direction_2_tool1.solids().sort_by_distance((1424.079082, 18.396632, 983.049793))[0])


solid = part_1.part
